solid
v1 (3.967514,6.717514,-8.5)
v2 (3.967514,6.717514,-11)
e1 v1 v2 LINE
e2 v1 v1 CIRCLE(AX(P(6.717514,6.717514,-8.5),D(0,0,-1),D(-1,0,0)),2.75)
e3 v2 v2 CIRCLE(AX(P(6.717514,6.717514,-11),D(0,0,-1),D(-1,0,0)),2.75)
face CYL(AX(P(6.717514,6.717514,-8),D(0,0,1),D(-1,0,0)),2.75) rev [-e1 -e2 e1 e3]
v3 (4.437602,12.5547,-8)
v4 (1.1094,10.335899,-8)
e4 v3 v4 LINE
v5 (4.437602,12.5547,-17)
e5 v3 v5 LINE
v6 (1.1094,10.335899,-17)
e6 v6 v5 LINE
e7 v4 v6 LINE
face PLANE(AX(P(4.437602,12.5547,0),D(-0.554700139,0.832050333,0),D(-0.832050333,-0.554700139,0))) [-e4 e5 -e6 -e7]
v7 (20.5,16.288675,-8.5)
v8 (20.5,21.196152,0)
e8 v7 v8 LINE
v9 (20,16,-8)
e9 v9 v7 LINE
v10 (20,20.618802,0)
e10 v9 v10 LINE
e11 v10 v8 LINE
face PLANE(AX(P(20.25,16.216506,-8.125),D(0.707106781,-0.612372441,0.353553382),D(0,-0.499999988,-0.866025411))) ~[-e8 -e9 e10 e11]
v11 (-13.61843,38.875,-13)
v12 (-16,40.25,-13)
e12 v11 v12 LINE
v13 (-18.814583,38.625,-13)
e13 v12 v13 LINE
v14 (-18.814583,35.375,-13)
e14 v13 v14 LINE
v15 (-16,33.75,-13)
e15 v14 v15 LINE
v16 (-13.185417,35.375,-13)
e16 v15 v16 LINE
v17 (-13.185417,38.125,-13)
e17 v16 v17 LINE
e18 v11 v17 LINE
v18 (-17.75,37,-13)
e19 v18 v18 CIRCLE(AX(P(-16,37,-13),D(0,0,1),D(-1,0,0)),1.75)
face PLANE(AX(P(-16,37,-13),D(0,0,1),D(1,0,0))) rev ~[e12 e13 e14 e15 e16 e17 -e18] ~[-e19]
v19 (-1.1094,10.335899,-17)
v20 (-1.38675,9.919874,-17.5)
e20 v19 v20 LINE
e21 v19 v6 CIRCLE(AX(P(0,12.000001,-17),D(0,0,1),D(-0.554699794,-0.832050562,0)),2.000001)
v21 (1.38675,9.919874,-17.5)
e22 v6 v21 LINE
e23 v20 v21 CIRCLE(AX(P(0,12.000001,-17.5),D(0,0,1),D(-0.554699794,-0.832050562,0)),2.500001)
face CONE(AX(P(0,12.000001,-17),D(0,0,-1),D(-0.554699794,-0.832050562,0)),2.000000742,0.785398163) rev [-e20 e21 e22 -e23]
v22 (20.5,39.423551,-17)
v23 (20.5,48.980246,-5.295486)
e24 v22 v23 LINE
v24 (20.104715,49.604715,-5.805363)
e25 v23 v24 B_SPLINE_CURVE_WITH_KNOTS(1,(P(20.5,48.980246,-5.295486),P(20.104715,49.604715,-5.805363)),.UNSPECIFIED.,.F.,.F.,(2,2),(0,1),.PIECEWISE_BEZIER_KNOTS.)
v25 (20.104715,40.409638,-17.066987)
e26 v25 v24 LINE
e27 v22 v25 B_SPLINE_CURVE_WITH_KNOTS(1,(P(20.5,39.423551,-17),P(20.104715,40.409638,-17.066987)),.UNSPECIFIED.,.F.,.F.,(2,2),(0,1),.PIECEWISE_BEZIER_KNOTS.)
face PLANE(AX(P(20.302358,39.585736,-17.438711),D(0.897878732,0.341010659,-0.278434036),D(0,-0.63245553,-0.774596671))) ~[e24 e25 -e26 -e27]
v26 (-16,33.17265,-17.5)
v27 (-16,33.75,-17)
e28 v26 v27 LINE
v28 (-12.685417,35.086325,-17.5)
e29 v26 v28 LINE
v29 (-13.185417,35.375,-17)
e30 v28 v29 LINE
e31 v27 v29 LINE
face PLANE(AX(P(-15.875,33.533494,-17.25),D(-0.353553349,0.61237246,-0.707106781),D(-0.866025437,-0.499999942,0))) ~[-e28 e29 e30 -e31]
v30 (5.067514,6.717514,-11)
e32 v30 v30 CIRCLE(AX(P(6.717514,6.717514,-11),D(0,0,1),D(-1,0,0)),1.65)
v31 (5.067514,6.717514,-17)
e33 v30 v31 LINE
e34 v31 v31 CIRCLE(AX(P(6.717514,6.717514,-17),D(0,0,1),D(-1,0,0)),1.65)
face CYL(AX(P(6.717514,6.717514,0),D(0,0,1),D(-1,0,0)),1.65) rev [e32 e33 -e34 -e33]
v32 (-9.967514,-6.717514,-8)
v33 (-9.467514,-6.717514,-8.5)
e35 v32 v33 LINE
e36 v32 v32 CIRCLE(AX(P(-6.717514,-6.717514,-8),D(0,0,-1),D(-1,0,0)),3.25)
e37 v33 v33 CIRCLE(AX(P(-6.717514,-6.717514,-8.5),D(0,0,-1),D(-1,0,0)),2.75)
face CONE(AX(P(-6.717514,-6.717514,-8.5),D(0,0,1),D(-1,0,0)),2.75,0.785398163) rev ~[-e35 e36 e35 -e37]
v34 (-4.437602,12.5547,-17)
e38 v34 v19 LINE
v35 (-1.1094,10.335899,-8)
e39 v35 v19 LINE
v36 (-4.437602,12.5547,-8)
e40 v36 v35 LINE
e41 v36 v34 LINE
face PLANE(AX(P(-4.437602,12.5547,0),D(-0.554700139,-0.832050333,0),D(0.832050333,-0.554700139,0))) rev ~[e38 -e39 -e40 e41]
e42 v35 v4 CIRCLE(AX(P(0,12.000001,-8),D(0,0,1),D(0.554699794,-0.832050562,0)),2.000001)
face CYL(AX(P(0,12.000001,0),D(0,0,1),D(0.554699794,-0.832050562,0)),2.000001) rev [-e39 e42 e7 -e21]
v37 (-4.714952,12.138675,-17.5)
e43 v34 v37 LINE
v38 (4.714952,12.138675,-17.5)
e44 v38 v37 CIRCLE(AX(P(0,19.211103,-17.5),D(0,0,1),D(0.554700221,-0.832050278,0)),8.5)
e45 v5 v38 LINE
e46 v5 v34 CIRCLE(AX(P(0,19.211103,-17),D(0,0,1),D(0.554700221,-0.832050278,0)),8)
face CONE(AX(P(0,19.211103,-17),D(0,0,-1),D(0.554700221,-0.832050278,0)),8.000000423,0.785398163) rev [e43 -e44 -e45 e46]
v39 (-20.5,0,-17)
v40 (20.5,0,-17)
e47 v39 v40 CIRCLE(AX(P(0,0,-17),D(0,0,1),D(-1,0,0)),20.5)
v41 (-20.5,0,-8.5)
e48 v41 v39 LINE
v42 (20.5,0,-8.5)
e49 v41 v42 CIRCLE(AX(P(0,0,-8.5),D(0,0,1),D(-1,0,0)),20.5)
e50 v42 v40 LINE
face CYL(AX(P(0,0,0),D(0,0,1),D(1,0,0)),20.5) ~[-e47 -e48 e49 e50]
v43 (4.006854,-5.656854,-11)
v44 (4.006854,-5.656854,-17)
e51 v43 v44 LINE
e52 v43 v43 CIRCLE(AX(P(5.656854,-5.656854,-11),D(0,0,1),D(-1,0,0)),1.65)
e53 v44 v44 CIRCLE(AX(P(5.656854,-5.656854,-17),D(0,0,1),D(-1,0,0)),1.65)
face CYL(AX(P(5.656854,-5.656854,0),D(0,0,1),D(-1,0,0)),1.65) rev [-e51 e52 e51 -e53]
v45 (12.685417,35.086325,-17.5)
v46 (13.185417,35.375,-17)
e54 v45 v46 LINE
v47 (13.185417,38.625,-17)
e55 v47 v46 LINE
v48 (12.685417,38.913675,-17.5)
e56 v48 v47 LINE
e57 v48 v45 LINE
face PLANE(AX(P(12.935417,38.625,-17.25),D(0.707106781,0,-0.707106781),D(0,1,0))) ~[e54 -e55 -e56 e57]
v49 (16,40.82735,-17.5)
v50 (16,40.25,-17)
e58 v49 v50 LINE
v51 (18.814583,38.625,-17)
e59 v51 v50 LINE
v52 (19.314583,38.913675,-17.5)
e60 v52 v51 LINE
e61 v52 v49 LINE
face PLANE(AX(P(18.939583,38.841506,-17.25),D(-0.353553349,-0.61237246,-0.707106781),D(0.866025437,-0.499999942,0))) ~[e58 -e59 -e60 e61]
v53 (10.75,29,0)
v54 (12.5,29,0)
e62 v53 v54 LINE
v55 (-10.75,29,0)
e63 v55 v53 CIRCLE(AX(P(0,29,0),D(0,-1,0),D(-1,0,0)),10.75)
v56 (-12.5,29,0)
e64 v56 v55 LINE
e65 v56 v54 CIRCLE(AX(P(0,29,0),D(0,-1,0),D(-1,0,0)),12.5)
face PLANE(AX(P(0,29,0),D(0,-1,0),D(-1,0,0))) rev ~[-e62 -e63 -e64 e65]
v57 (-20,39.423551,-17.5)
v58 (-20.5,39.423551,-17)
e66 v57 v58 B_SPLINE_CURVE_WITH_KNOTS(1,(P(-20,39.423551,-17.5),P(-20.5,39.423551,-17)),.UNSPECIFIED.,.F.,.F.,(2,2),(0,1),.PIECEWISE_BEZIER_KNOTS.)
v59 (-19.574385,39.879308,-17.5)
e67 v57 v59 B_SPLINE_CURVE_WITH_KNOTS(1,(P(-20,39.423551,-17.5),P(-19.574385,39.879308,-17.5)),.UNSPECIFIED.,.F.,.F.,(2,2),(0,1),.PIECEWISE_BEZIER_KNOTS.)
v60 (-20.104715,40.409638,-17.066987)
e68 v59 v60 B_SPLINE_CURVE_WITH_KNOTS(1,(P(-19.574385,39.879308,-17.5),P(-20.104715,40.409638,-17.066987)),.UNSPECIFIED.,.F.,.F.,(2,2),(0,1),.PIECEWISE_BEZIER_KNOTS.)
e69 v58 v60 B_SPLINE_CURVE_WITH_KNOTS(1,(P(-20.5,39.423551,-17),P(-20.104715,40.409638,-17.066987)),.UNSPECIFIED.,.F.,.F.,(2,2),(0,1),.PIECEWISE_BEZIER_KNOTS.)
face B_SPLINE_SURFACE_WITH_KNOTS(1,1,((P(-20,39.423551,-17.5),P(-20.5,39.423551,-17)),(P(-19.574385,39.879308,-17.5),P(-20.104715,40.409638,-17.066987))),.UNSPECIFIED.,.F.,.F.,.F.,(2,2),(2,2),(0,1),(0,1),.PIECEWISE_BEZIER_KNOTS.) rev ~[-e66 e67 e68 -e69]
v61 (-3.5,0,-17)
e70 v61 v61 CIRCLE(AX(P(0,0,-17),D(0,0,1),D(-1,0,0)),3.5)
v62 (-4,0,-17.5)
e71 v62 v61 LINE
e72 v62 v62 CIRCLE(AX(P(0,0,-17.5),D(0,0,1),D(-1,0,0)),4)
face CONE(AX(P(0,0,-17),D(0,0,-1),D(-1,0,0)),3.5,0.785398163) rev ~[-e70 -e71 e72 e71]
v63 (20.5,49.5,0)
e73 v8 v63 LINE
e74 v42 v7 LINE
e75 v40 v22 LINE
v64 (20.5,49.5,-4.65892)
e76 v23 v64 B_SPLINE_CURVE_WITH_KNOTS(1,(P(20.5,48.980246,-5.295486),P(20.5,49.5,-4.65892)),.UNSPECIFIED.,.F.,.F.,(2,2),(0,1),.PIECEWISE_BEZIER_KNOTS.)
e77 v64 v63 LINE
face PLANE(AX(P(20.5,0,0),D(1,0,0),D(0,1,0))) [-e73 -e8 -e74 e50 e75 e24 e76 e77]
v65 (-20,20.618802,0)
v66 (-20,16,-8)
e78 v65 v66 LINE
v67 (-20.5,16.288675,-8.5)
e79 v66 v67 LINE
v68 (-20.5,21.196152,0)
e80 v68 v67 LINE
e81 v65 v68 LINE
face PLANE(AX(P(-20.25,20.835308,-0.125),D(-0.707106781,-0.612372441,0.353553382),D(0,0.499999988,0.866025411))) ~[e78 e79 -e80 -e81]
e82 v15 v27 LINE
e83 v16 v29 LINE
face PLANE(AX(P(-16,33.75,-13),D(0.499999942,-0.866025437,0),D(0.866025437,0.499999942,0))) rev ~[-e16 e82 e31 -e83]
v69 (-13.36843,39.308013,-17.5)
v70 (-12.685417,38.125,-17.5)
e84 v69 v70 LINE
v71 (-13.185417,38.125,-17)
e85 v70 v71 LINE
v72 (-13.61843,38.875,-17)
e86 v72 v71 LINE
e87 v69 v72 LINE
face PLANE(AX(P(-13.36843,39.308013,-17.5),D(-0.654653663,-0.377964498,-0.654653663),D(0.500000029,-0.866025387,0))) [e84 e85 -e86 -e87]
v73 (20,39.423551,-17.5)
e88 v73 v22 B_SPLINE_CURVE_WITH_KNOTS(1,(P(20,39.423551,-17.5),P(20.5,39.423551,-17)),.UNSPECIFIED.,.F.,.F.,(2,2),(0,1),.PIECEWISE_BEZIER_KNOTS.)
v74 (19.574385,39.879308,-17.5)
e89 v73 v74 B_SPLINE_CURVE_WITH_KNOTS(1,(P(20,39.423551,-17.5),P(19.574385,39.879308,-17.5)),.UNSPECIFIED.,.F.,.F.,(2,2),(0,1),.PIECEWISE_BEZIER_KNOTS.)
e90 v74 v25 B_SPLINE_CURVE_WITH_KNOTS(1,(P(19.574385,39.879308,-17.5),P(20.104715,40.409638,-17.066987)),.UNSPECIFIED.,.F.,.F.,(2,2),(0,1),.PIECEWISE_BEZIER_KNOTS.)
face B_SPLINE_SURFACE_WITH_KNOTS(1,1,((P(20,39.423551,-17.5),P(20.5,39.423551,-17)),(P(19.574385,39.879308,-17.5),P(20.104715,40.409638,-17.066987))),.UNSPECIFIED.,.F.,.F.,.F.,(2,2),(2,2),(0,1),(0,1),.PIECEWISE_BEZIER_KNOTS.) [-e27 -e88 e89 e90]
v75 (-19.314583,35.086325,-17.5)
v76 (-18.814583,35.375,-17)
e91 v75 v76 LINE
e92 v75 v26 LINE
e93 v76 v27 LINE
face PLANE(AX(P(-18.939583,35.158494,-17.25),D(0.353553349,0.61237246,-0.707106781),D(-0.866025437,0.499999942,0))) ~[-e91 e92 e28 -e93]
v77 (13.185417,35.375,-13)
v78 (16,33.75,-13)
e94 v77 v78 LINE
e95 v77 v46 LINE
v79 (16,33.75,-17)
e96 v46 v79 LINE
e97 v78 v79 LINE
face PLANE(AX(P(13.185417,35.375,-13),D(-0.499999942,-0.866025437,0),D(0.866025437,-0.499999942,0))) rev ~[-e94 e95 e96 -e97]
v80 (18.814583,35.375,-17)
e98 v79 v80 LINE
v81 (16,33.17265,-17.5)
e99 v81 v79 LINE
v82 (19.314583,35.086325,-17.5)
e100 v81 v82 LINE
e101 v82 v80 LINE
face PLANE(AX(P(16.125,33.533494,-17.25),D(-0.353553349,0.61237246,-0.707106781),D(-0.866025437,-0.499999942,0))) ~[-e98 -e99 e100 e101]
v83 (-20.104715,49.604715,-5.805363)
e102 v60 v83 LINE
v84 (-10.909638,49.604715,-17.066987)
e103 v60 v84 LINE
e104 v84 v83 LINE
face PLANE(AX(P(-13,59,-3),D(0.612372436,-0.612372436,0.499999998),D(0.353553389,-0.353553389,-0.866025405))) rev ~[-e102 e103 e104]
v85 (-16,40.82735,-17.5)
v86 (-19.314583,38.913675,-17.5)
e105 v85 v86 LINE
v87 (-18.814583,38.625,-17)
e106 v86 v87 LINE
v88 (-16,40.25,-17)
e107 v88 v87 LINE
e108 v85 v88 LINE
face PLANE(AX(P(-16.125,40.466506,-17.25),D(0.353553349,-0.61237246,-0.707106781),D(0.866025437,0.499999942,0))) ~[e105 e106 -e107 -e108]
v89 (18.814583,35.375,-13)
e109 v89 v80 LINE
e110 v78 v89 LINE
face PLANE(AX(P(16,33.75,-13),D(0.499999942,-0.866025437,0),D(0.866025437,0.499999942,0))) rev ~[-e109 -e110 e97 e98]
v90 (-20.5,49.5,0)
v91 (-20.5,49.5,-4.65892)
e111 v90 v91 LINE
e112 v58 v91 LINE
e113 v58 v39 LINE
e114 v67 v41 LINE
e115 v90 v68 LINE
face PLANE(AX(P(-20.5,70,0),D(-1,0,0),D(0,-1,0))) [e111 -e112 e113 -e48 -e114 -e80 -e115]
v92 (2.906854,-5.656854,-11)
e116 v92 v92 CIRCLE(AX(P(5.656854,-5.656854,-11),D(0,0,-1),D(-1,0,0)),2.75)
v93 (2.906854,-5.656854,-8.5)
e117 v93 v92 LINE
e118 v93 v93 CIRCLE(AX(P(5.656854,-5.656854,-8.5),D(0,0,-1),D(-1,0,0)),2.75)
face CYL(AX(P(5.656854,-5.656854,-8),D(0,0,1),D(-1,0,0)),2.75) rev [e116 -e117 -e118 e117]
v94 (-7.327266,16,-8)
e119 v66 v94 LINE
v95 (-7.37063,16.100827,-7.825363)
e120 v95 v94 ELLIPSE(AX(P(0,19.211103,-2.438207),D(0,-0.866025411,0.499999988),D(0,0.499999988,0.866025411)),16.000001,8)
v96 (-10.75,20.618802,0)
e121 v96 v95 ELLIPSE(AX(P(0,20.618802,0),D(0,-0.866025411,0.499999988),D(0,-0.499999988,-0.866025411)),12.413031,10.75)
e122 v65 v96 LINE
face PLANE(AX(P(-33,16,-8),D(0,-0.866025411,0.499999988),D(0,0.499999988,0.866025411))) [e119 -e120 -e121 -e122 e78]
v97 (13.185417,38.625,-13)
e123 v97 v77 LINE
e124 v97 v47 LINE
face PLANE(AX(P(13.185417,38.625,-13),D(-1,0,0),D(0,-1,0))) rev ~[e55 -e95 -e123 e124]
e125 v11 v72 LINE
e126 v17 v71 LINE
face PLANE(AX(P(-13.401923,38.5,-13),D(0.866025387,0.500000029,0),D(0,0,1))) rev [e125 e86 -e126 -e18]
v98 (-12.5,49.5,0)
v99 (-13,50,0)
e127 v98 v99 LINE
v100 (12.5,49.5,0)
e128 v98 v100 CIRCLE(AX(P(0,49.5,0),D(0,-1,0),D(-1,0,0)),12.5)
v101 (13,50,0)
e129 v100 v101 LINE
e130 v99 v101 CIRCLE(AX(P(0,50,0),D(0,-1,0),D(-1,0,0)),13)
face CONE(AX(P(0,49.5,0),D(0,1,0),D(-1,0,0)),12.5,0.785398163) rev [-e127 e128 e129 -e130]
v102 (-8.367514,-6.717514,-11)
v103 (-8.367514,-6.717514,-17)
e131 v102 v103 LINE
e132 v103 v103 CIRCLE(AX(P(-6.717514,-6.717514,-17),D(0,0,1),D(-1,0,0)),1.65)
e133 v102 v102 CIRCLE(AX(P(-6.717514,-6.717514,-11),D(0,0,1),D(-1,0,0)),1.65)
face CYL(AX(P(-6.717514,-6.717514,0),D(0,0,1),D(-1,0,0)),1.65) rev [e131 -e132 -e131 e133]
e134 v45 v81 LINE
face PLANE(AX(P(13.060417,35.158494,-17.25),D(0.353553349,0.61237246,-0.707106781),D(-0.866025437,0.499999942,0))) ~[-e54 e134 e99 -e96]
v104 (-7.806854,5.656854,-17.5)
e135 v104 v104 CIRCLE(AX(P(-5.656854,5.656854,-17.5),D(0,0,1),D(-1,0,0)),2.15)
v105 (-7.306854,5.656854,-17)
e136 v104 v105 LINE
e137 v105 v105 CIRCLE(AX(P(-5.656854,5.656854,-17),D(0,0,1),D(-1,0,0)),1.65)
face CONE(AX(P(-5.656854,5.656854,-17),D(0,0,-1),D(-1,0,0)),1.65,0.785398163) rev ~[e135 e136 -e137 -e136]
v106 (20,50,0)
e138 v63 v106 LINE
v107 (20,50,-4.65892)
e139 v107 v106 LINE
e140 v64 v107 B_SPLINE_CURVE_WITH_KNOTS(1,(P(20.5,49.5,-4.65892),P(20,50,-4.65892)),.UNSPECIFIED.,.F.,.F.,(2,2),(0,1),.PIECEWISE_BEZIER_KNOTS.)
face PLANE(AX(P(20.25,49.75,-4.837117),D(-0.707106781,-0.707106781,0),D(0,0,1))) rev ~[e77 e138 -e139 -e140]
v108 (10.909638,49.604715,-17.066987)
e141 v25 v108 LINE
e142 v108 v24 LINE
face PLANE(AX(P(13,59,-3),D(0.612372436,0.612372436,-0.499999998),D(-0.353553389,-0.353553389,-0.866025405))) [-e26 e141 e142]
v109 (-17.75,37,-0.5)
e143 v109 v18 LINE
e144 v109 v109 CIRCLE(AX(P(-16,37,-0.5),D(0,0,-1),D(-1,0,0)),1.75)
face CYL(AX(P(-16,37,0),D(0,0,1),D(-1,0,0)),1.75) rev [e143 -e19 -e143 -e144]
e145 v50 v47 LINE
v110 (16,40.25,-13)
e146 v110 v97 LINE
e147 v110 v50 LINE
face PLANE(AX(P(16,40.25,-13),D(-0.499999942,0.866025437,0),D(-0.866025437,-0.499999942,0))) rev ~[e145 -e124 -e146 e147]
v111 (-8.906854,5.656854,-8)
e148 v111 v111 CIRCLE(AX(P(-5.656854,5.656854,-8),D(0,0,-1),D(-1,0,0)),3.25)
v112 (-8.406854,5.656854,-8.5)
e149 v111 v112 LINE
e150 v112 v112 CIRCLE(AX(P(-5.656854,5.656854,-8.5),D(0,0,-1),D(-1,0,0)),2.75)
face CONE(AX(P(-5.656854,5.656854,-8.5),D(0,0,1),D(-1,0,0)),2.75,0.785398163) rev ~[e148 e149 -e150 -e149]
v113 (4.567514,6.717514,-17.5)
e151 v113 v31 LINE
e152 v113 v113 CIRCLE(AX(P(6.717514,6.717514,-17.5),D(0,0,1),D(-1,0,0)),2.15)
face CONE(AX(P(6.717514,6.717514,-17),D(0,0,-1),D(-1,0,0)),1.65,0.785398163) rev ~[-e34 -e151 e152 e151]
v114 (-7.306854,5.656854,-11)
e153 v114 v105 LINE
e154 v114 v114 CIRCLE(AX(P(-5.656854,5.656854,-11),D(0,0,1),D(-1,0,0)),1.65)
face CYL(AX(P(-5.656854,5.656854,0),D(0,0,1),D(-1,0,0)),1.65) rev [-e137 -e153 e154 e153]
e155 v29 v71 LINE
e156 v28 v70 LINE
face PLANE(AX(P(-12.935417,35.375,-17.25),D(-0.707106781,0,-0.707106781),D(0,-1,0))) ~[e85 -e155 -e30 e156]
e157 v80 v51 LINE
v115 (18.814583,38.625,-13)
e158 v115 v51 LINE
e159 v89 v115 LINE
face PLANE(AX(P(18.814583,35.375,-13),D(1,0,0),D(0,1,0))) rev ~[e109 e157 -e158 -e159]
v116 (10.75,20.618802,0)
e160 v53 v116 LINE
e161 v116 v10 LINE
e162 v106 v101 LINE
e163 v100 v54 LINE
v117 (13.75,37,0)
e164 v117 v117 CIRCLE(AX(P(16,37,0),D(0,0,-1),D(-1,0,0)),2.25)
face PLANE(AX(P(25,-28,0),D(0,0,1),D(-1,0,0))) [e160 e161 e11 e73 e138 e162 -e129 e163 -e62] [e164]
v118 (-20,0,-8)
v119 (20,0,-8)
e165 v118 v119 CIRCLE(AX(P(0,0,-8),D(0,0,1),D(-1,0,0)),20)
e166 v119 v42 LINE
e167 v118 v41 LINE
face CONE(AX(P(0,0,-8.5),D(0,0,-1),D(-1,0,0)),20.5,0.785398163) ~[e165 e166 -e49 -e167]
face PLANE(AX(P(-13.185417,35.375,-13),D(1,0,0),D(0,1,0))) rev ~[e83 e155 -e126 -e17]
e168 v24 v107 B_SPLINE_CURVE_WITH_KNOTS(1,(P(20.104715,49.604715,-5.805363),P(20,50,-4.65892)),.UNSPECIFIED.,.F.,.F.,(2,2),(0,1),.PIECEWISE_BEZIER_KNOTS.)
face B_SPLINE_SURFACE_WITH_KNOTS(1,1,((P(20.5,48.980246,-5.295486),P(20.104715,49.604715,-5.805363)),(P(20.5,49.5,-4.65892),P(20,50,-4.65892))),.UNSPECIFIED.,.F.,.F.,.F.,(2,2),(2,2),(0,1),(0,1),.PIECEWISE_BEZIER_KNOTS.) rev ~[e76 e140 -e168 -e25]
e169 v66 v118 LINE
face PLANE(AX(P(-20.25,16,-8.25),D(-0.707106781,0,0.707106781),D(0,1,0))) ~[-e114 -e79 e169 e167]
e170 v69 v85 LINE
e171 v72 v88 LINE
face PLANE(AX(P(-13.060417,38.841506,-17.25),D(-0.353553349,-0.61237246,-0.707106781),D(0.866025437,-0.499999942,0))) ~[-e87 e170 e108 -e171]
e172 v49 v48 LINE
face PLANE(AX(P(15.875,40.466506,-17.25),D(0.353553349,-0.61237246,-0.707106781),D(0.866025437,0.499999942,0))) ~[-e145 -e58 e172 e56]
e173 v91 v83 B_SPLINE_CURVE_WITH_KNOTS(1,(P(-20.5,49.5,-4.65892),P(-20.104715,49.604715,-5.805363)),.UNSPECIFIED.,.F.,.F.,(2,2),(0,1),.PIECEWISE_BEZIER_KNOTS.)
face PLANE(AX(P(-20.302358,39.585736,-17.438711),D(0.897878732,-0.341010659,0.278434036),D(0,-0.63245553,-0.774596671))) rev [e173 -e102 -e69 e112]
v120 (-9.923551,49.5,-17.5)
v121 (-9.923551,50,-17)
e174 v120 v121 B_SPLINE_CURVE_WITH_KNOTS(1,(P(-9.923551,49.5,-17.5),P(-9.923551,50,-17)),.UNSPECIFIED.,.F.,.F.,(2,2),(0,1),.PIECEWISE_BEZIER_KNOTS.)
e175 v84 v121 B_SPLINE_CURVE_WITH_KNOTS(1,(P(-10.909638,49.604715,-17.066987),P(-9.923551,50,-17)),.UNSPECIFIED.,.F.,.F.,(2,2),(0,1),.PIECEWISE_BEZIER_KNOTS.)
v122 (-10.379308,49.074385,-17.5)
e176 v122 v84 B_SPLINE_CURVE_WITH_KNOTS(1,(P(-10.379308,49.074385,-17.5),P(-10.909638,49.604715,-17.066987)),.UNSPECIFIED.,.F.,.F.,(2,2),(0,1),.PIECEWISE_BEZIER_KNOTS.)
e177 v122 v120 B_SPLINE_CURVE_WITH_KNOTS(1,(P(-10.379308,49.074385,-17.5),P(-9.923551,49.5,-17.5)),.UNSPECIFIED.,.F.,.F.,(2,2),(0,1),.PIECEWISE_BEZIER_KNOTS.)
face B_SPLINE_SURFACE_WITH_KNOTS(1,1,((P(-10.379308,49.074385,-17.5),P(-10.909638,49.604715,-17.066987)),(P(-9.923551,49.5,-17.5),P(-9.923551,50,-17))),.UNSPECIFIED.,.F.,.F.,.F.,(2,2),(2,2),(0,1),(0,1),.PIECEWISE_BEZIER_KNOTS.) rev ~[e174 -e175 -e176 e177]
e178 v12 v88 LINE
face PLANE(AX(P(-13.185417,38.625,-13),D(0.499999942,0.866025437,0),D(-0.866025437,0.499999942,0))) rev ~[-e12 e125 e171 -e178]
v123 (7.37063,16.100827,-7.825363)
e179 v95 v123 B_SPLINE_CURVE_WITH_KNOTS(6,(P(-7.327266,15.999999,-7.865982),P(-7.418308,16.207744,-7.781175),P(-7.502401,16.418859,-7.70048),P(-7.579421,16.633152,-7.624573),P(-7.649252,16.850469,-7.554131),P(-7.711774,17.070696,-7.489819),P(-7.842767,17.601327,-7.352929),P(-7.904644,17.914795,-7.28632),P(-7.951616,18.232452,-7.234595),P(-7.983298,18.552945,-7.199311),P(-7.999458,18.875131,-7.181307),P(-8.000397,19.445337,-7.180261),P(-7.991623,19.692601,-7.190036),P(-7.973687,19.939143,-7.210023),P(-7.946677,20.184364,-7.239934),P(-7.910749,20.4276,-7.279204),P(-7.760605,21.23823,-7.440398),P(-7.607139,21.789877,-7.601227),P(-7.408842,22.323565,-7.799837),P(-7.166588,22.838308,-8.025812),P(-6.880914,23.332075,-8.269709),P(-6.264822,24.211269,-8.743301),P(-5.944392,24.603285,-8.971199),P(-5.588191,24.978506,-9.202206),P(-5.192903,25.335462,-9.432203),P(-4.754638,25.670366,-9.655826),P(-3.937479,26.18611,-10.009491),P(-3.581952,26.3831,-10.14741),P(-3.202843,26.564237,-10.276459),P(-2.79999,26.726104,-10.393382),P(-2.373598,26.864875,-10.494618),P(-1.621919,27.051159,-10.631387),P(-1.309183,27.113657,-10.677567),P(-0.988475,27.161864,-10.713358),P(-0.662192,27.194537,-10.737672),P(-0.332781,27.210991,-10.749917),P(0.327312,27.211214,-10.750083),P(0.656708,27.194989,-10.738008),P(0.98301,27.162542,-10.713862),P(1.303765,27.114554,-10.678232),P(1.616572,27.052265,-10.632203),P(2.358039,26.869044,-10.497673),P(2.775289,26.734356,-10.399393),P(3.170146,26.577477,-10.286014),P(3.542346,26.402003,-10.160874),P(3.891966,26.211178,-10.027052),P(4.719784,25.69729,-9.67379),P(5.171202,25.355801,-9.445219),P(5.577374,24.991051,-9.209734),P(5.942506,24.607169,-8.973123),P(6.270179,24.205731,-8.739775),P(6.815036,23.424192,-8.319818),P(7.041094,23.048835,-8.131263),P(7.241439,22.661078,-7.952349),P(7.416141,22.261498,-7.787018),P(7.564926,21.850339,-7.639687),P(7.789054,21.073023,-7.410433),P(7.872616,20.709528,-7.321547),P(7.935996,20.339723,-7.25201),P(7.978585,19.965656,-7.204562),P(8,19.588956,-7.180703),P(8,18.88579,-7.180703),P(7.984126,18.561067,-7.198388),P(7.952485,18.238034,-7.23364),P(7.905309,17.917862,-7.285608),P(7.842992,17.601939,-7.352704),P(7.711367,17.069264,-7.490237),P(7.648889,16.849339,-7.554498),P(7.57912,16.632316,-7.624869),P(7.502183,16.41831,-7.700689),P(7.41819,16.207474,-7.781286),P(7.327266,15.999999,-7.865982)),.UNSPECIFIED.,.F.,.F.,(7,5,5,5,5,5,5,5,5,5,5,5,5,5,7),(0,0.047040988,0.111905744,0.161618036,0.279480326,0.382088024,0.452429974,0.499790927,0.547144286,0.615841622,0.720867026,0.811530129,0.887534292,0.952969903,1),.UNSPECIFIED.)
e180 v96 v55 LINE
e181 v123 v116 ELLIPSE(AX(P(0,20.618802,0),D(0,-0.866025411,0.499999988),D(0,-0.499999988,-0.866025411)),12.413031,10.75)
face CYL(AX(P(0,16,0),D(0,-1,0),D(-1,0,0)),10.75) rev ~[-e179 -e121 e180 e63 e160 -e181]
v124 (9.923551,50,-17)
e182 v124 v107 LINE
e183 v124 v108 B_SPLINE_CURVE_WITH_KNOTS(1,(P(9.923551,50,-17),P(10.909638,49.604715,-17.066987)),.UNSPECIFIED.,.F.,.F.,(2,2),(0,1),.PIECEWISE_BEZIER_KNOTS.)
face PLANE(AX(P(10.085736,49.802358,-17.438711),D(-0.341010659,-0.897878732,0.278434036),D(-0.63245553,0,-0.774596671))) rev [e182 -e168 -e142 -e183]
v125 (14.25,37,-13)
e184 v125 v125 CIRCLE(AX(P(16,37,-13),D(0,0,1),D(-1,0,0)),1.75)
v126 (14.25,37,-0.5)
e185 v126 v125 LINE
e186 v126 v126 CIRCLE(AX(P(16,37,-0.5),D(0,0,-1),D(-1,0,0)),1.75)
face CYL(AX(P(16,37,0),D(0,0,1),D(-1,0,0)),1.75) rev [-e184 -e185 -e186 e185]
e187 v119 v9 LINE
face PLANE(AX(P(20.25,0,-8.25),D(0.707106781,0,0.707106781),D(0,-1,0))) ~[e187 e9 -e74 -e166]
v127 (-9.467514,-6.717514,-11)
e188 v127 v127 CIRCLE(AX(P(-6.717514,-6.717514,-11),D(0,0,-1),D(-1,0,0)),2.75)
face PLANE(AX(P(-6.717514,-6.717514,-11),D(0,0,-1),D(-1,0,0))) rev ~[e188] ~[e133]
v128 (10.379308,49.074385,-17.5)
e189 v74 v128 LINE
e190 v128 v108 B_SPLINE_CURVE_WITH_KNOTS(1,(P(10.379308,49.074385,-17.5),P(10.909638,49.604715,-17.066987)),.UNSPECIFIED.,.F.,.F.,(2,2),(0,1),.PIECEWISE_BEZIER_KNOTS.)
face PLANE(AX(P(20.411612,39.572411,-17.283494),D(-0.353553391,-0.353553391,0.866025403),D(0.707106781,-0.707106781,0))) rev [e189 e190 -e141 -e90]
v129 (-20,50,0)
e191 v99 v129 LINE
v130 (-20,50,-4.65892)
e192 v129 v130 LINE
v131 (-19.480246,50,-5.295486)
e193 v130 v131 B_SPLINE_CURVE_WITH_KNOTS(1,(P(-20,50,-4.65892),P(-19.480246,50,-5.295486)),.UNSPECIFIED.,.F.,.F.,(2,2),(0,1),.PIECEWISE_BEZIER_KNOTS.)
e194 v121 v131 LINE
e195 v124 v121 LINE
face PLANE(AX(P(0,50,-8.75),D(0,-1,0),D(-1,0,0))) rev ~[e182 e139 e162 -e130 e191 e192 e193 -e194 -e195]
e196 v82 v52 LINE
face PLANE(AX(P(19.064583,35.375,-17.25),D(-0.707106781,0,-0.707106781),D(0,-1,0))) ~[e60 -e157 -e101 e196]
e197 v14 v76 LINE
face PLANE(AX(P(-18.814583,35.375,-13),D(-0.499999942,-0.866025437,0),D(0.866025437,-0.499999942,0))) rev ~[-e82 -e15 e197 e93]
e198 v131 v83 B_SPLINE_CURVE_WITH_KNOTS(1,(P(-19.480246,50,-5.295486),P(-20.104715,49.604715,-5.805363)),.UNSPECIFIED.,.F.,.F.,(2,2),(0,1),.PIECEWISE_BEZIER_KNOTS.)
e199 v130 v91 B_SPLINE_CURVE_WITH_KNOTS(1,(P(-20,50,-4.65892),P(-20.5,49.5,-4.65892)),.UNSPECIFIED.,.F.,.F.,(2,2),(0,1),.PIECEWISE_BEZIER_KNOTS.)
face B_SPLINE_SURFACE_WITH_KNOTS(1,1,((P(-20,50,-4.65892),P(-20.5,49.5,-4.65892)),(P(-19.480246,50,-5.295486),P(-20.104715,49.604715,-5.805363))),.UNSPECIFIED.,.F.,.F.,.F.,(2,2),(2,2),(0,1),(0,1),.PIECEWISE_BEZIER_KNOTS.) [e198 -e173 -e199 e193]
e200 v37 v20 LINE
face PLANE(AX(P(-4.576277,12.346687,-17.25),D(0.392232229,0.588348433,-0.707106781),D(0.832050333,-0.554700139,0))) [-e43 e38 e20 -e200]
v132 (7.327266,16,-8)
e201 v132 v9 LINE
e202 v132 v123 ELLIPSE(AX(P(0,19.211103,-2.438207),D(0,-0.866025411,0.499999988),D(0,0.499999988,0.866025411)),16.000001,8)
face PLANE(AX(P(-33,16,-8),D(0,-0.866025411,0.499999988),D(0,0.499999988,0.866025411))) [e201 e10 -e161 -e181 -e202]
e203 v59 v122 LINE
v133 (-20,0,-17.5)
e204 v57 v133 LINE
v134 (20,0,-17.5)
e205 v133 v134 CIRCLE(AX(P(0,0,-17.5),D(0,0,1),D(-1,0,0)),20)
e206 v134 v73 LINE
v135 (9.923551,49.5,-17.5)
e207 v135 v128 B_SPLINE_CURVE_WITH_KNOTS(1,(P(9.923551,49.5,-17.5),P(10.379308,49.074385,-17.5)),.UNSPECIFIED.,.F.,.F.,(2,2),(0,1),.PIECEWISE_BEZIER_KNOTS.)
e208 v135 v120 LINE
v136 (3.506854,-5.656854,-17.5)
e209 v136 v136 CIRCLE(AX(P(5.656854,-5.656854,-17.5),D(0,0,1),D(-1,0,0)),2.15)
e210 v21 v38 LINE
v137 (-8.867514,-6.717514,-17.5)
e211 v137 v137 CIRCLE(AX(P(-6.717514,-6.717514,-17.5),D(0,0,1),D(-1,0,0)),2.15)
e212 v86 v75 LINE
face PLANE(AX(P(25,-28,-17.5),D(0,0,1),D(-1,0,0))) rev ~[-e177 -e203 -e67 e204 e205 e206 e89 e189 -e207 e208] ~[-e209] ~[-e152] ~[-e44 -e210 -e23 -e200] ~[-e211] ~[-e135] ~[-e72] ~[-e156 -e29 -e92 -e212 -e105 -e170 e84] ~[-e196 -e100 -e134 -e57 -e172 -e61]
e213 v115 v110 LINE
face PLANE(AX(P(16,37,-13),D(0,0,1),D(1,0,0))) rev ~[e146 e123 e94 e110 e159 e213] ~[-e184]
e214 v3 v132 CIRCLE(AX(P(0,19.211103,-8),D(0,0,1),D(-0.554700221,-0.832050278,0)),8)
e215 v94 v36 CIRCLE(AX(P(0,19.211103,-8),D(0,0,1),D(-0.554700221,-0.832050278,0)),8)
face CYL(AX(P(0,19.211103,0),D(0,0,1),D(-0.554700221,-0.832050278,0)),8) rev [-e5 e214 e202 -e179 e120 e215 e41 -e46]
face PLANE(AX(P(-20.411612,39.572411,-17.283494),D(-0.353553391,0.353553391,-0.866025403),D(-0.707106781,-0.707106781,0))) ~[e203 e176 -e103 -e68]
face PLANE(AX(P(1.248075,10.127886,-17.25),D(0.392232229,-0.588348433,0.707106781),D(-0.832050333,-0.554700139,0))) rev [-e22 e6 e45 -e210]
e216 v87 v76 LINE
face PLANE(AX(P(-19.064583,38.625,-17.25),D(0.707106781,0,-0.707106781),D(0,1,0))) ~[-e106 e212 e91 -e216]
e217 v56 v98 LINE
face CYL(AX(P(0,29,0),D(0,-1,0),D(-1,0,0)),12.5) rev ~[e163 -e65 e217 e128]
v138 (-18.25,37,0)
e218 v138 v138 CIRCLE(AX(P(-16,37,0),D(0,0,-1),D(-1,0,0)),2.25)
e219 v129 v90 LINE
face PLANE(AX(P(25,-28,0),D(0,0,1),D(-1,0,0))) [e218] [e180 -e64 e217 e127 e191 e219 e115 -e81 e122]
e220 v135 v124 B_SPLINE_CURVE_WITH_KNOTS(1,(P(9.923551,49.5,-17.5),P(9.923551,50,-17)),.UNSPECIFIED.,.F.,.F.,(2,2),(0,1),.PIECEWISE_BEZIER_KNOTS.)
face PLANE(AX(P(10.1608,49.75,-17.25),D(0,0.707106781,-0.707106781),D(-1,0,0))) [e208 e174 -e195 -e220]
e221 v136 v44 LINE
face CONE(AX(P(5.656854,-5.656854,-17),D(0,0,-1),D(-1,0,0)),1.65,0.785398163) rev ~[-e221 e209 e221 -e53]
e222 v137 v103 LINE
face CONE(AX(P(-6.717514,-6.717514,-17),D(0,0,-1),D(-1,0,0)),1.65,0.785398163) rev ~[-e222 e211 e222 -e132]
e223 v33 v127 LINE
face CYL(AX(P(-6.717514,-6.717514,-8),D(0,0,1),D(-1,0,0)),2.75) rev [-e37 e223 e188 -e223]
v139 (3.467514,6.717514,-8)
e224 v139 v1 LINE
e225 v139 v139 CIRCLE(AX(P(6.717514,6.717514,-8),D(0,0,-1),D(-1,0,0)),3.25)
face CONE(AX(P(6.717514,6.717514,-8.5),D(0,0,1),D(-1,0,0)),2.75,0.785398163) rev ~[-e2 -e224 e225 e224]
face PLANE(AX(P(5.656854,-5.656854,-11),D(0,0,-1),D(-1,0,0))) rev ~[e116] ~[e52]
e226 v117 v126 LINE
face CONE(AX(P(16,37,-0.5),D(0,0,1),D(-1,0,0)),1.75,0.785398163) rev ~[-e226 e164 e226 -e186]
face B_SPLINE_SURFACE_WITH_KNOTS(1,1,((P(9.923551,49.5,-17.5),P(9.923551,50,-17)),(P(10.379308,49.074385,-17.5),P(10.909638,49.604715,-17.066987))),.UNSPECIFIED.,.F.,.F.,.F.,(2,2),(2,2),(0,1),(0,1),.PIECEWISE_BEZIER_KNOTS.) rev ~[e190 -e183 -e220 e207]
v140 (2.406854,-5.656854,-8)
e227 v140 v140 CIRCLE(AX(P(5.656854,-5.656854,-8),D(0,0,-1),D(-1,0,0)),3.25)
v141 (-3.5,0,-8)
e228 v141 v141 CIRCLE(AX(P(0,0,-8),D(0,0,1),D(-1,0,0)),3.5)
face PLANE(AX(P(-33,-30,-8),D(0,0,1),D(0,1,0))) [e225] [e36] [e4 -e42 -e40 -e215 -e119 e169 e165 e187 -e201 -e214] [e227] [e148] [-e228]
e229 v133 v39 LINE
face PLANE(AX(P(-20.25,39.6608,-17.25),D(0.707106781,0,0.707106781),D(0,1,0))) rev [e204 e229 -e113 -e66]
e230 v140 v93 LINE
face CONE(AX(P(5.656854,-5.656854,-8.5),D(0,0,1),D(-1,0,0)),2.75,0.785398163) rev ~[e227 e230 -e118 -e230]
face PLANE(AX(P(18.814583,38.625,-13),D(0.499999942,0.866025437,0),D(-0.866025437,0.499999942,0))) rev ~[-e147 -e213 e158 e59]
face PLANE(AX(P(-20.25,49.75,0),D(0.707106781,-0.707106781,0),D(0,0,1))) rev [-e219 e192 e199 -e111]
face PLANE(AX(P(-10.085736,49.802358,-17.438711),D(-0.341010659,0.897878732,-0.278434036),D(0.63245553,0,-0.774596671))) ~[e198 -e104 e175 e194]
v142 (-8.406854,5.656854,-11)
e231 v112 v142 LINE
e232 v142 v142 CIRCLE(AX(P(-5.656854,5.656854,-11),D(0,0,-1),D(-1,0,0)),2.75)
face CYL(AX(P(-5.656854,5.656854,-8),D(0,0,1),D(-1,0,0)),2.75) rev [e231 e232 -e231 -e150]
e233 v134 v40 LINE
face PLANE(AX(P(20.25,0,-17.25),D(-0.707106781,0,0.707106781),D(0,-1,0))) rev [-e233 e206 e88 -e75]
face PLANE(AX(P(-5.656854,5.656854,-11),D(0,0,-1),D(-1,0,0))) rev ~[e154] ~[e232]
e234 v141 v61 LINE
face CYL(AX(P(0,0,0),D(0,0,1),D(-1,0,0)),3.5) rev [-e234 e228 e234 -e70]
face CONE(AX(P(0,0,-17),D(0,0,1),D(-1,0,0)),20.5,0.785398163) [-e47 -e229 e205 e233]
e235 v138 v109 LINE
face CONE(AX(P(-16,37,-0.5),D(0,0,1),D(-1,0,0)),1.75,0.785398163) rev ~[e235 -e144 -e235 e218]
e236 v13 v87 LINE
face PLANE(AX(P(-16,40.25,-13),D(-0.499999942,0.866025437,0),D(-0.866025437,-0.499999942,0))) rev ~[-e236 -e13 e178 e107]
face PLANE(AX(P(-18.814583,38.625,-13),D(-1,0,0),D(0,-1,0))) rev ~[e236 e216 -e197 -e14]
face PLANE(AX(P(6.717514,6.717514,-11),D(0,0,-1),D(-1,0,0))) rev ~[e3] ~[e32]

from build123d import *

# Parameters (mm, degrees)
EXTRUDE077_DEPTH           = 23
EXTRUDE077_PLACEMENT_ANGLE = 45
EXTRUDE076_DEPTH           = 23
EXTRUDE076_PLACEMENT_ANGLE = 45
EXTRUDE049_DEPTH           = 5
SKETCH050_R                = 10.75
EXTRUDE048_DEPTH           = 27
SKETCH052_R                = 2.75
EXTRUDE050_DEPTH           = 3
SKETCH046_R                = 3.5
SKETCH046_R_2              = 1.75
SKETCH046_R_3              = 1.65
EXTRUDE044_DEPTH           = 30
SKETCH047_R                = 12.5
EXTRUDE047_DEPTH           = 50
EXTRUDE045_DEPTH           = 60
SKETCH049_W                = 50
SKETCH049_H                = 17.5
EXTRUDE046_DEPTH           = 78
CHAMFER_SIZE               = 0.5
CHAMFER_PLACEMENT_ANGLE    = 180


with BuildPart() as extrude077:
    # Sketch077 → Extrude077 (new body)
    with BuildSketch(Plane.YZ):
        Polygon((-8.660254, 15), (0, 15), (0, 0), align=None)
    extrude(amount=-EXTRUDE077_DEPTH)


with BuildPart() as extrude077_1:
    # Extrude077 placement: moved
    add(extrude077.part.moved(Location((-13, 0, 0))).rotate(Axis((-13, 0, 0), (0, 0, 1)), EXTRUDE077_PLACEMENT_ANGLE))


with BuildPart() as fusion032:
    # Sketch077 → Extrude076 (new body)
    with BuildSketch(Plane.YZ):
        Polygon((-8.660254, 15), (0, 15), (0, 0), align=None)
    extrude(amount=EXTRUDE076_DEPTH)


with BuildPart() as fusion032_1:
    # Extrude076 placement: moved
    add(fusion032.part.moved(Location((13, 0, 0))).rotate(Axis((13, 0, 0), (0, 0, -1)), EXTRUDE076_PLACEMENT_ANGLE))

    # Fusion032: union Extrude077
    add(extrude077_1.part)


with BuildPart() as fusion032_2:
    # Fusion032 placement: moved
    add(fusion032_1.part.moved(Location((0, 59, 3))))


with BuildPart() as extrude049:
    # Sketch051 → Extrude049 (new body)
    with BuildSketch(Plane(origin=(0, 40, 0), x_dir=(1, 0, 0), z_dir=(0, 0, 1))):
        Polygon((-16, 0.25), (-13.185417, -1.375), (-13.185417, -4.625), (-16, -6.25), (-18.814583, -4.625), (-18.814583, -1.375), align=None)
        Polygon((16, 0.25), (18.814583, -1.375), (18.814583, -4.625), (16, -6.25), (13.185417, -4.625), (13.185417, -1.375), align=None)
    extrude(amount=EXTRUDE049_DEPTH)


with BuildPart() as extrude049_1:
    # Extrude049 placement: moved
    add(extrude049.part.moved(Location((0, 0, 13))))


with BuildPart() as extrude048:
    # Sketch050 → Extrude048 (new body)
    with BuildSketch(Plane.XZ.offset(-33)):
        Circle(SKETCH050_R)
    extrude(amount=-EXTRUDE048_DEPTH)


with BuildPart() as extrude048_1:
    # Extrude048 placement: moved
    add(extrude048.part.moved(Location((0, -17, 0))))


with BuildPart() as extrude050:
    # Sketch052 → Extrude050 (new body)
    with BuildSketch(Plane.XY):
        with Locations((-6.717514, 6.717514)):
            Circle(SKETCH052_R)
        with Locations((5.656854, 5.656854)):
            Circle(SKETCH052_R)
        with Locations((6.717514, -6.717514)):
            Circle(SKETCH052_R)
        with Locations((-5.656854, -5.656854)):
            Circle(SKETCH052_R)
    extrude(amount=EXTRUDE050_DEPTH)


with BuildPart() as extrude050_1:
    # Extrude050 placement: moved
    add(extrude050.part.moved(Location((0, 0, 8))))


with BuildPart() as extrude044:
    # Sketch046 → Extrude044 (new body)
    with BuildSketch(Plane.XY):
        Circle(SKETCH046_R)
        with Locations((-16, 37)):
            Circle(SKETCH046_R_2)
        with Locations((16, 37)):
            Circle(SKETCH046_R_2)
        with Locations((6.717514, -6.717514)):
            Circle(SKETCH046_R_3)
        with Locations((-6.717514, 6.717514)):
            Circle(SKETCH046_R_3)
        with Locations((-5.656854, -5.656854)):
            Circle(SKETCH046_R_3)
        with Locations((5.656854, 5.656854)):
            Circle(SKETCH046_R_3)
        with BuildLine():
            ThreePointArc((4.437602, 12.5547), (0, 27.211103), (-4.437602, 12.5547))
            Line((-4.437602, 12.5547), (-1.1094, 10.335899))
            ThreePointArc((-1.1094, 10.335899), (0, 10), (1.1094, 10.335899))
            Line((4.437602, 12.5547), (1.1094, 10.335899))
        make_face()
        with BuildLine():
            Line((-20.5, 0), (-20.5, 70))
            Line((-20.5, 70), (-29.5, 70))
            Line((-29.5, 70), (-29.5, -30))
            Line((-29.5, -30), (29.5, -30))
            Line((29.5, -30), (29.5, 70))
            Line((29.5, 70), (20.5, 70))
            Line((20.5, 70), (20.5, 0))
            ThreePointArc((-20.5, 0), (0, -20.5), (20.5, 0))
        make_face()
    extrude(amount=EXTRUDE044_DEPTH)


with BuildPart() as extrude047:
    # Sketch047 → Extrude047 (new body)
    with BuildSketch(Plane.XZ.offset(-32)):
        Circle(SKETCH047_R)
    extrude(amount=-EXTRUDE047_DEPTH)


with BuildPart() as extrude047_1:
    # Extrude047 placement: moved
    add(extrude047.part.moved(Location((0, -3, 0))))


with BuildPart() as extrude045:
    # Sketch048 → Extrude045 (new body)
    with BuildSketch(Plane.YZ.offset(33)):
        Polygon((-30, 8), (16, 8), (20.618802, 0), (-30, 0), align=None)
    extrude(amount=-EXTRUDE045_DEPTH)


with BuildPart() as chamfer_body:
    # Sketch049 → Extrude046 (new body)
    with BuildSketch(Plane.XZ.offset(28)):
        with Locations((0, 8.75)):
            Rectangle(SKETCH049_W, SKETCH049_H)
    extrude(amount=-EXTRUDE046_DEPTH)

    # Cut029: cut Extrude045
    add(extrude045.part, mode=Mode.SUBTRACT)

    # Cut001: cut Extrude047
    add(extrude047_1.part, mode=Mode.SUBTRACT)

    # Cut030: cut Extrude044
    add(extrude044.part, mode=Mode.SUBTRACT)

    # Cut031: cut Extrude050
    add(extrude050_1.part, mode=Mode.SUBTRACT)

    # Cut004: cut Extrude048
    add(extrude048_1.part, mode=Mode.SUBTRACT)

    # Cut005: cut Extrude049
    add(extrude049_1.part, mode=Mode.SUBTRACT)

    # Cut043: cut Fusion032
    add(fusion032_2.part, mode=Mode.SUBTRACT)

    # Chamfer
    chamfer_edges = [chamfer_body.edges().sort_by_distance(p)[0] for p in [
        (0, -20.5, 17.5),
        (20.5, 19.8304, 17.5),
        (15.3304, 44.8304, 17.5),
        (0, 50, 17.5),
        (-15.3304, 44.8304, 17.5),
        (-20.5, 19.8304, 17.5),
        (-14.592709, 39.4375, 17.5),
        (-17.407291, 39.4375, 17.5),
        (-13.185417, 37, 17.5),
        (-18.814583, 37, 17.5),
        (-14.592709, 34.5625, 17.5),
        (-17.407291, 34.5625, 17.5),
        (-7.306854, -5.656854, 17.5),
        (-8.367514, 6.717514, 17.5),
        (0, 27.211103, 17.5),
        (-2.773501, 11.4453, 17.5),
        (2.773501, 11.4453, 17.5),
        (0, 10, 17.5),
        (-3.5, 0, 17.5),
        (14.592709, 39.4375, 17.5),
        (13.185417, 37, 17.5),
        (17.407291, 39.4375, 17.5),
        (14.592709, 34.5625, 17.5),
        (18.814583, 37, 17.5),
        (17.407291, 34.5625, 17.5),
        (4.006854, 5.656854, 17.5),
        (5.067514, -6.717514, 17.5),
        (0, -20.5, 8),
        (20.5, 18.309401, 4),
        (20.5, 8, 8),
        (20.5, 44.8304, 11.168559),
        (20.5, 50, 2.418559),
        (15.3304, 50, 11.168559),
        (0, 50, 12.5),
        (-20.5, 50, 2.418559),
        (-15.3304, 50, 11.168559),
        (-20.5, 44.8304, 11.168559),
        (-20.5, 8, 8),
        (-20.5, 18.309401, 4),
        (13.185417, 38.625, 15.25),
        (3.967514, -6.717514, 8),
        (-8.406854, -5.656854, 8),
        (2.906854, 5.656854, 8),
        (-9.467514, 6.717514, 8),
        (14.25, 37, 0),
        (-17.75, 37, 0),
    ]]
    chamfer(chamfer_edges, length=CHAMFER_SIZE)


with BuildPart() as chamfer_body_1:
    # Chamfer placement: moved
    add(chamfer_body.part.rotate(Axis((0, 0, 0), (0, 1, 0)), CHAMFER_PLACEMENT_ANGLE))


solid = chamfer_body_1.part
